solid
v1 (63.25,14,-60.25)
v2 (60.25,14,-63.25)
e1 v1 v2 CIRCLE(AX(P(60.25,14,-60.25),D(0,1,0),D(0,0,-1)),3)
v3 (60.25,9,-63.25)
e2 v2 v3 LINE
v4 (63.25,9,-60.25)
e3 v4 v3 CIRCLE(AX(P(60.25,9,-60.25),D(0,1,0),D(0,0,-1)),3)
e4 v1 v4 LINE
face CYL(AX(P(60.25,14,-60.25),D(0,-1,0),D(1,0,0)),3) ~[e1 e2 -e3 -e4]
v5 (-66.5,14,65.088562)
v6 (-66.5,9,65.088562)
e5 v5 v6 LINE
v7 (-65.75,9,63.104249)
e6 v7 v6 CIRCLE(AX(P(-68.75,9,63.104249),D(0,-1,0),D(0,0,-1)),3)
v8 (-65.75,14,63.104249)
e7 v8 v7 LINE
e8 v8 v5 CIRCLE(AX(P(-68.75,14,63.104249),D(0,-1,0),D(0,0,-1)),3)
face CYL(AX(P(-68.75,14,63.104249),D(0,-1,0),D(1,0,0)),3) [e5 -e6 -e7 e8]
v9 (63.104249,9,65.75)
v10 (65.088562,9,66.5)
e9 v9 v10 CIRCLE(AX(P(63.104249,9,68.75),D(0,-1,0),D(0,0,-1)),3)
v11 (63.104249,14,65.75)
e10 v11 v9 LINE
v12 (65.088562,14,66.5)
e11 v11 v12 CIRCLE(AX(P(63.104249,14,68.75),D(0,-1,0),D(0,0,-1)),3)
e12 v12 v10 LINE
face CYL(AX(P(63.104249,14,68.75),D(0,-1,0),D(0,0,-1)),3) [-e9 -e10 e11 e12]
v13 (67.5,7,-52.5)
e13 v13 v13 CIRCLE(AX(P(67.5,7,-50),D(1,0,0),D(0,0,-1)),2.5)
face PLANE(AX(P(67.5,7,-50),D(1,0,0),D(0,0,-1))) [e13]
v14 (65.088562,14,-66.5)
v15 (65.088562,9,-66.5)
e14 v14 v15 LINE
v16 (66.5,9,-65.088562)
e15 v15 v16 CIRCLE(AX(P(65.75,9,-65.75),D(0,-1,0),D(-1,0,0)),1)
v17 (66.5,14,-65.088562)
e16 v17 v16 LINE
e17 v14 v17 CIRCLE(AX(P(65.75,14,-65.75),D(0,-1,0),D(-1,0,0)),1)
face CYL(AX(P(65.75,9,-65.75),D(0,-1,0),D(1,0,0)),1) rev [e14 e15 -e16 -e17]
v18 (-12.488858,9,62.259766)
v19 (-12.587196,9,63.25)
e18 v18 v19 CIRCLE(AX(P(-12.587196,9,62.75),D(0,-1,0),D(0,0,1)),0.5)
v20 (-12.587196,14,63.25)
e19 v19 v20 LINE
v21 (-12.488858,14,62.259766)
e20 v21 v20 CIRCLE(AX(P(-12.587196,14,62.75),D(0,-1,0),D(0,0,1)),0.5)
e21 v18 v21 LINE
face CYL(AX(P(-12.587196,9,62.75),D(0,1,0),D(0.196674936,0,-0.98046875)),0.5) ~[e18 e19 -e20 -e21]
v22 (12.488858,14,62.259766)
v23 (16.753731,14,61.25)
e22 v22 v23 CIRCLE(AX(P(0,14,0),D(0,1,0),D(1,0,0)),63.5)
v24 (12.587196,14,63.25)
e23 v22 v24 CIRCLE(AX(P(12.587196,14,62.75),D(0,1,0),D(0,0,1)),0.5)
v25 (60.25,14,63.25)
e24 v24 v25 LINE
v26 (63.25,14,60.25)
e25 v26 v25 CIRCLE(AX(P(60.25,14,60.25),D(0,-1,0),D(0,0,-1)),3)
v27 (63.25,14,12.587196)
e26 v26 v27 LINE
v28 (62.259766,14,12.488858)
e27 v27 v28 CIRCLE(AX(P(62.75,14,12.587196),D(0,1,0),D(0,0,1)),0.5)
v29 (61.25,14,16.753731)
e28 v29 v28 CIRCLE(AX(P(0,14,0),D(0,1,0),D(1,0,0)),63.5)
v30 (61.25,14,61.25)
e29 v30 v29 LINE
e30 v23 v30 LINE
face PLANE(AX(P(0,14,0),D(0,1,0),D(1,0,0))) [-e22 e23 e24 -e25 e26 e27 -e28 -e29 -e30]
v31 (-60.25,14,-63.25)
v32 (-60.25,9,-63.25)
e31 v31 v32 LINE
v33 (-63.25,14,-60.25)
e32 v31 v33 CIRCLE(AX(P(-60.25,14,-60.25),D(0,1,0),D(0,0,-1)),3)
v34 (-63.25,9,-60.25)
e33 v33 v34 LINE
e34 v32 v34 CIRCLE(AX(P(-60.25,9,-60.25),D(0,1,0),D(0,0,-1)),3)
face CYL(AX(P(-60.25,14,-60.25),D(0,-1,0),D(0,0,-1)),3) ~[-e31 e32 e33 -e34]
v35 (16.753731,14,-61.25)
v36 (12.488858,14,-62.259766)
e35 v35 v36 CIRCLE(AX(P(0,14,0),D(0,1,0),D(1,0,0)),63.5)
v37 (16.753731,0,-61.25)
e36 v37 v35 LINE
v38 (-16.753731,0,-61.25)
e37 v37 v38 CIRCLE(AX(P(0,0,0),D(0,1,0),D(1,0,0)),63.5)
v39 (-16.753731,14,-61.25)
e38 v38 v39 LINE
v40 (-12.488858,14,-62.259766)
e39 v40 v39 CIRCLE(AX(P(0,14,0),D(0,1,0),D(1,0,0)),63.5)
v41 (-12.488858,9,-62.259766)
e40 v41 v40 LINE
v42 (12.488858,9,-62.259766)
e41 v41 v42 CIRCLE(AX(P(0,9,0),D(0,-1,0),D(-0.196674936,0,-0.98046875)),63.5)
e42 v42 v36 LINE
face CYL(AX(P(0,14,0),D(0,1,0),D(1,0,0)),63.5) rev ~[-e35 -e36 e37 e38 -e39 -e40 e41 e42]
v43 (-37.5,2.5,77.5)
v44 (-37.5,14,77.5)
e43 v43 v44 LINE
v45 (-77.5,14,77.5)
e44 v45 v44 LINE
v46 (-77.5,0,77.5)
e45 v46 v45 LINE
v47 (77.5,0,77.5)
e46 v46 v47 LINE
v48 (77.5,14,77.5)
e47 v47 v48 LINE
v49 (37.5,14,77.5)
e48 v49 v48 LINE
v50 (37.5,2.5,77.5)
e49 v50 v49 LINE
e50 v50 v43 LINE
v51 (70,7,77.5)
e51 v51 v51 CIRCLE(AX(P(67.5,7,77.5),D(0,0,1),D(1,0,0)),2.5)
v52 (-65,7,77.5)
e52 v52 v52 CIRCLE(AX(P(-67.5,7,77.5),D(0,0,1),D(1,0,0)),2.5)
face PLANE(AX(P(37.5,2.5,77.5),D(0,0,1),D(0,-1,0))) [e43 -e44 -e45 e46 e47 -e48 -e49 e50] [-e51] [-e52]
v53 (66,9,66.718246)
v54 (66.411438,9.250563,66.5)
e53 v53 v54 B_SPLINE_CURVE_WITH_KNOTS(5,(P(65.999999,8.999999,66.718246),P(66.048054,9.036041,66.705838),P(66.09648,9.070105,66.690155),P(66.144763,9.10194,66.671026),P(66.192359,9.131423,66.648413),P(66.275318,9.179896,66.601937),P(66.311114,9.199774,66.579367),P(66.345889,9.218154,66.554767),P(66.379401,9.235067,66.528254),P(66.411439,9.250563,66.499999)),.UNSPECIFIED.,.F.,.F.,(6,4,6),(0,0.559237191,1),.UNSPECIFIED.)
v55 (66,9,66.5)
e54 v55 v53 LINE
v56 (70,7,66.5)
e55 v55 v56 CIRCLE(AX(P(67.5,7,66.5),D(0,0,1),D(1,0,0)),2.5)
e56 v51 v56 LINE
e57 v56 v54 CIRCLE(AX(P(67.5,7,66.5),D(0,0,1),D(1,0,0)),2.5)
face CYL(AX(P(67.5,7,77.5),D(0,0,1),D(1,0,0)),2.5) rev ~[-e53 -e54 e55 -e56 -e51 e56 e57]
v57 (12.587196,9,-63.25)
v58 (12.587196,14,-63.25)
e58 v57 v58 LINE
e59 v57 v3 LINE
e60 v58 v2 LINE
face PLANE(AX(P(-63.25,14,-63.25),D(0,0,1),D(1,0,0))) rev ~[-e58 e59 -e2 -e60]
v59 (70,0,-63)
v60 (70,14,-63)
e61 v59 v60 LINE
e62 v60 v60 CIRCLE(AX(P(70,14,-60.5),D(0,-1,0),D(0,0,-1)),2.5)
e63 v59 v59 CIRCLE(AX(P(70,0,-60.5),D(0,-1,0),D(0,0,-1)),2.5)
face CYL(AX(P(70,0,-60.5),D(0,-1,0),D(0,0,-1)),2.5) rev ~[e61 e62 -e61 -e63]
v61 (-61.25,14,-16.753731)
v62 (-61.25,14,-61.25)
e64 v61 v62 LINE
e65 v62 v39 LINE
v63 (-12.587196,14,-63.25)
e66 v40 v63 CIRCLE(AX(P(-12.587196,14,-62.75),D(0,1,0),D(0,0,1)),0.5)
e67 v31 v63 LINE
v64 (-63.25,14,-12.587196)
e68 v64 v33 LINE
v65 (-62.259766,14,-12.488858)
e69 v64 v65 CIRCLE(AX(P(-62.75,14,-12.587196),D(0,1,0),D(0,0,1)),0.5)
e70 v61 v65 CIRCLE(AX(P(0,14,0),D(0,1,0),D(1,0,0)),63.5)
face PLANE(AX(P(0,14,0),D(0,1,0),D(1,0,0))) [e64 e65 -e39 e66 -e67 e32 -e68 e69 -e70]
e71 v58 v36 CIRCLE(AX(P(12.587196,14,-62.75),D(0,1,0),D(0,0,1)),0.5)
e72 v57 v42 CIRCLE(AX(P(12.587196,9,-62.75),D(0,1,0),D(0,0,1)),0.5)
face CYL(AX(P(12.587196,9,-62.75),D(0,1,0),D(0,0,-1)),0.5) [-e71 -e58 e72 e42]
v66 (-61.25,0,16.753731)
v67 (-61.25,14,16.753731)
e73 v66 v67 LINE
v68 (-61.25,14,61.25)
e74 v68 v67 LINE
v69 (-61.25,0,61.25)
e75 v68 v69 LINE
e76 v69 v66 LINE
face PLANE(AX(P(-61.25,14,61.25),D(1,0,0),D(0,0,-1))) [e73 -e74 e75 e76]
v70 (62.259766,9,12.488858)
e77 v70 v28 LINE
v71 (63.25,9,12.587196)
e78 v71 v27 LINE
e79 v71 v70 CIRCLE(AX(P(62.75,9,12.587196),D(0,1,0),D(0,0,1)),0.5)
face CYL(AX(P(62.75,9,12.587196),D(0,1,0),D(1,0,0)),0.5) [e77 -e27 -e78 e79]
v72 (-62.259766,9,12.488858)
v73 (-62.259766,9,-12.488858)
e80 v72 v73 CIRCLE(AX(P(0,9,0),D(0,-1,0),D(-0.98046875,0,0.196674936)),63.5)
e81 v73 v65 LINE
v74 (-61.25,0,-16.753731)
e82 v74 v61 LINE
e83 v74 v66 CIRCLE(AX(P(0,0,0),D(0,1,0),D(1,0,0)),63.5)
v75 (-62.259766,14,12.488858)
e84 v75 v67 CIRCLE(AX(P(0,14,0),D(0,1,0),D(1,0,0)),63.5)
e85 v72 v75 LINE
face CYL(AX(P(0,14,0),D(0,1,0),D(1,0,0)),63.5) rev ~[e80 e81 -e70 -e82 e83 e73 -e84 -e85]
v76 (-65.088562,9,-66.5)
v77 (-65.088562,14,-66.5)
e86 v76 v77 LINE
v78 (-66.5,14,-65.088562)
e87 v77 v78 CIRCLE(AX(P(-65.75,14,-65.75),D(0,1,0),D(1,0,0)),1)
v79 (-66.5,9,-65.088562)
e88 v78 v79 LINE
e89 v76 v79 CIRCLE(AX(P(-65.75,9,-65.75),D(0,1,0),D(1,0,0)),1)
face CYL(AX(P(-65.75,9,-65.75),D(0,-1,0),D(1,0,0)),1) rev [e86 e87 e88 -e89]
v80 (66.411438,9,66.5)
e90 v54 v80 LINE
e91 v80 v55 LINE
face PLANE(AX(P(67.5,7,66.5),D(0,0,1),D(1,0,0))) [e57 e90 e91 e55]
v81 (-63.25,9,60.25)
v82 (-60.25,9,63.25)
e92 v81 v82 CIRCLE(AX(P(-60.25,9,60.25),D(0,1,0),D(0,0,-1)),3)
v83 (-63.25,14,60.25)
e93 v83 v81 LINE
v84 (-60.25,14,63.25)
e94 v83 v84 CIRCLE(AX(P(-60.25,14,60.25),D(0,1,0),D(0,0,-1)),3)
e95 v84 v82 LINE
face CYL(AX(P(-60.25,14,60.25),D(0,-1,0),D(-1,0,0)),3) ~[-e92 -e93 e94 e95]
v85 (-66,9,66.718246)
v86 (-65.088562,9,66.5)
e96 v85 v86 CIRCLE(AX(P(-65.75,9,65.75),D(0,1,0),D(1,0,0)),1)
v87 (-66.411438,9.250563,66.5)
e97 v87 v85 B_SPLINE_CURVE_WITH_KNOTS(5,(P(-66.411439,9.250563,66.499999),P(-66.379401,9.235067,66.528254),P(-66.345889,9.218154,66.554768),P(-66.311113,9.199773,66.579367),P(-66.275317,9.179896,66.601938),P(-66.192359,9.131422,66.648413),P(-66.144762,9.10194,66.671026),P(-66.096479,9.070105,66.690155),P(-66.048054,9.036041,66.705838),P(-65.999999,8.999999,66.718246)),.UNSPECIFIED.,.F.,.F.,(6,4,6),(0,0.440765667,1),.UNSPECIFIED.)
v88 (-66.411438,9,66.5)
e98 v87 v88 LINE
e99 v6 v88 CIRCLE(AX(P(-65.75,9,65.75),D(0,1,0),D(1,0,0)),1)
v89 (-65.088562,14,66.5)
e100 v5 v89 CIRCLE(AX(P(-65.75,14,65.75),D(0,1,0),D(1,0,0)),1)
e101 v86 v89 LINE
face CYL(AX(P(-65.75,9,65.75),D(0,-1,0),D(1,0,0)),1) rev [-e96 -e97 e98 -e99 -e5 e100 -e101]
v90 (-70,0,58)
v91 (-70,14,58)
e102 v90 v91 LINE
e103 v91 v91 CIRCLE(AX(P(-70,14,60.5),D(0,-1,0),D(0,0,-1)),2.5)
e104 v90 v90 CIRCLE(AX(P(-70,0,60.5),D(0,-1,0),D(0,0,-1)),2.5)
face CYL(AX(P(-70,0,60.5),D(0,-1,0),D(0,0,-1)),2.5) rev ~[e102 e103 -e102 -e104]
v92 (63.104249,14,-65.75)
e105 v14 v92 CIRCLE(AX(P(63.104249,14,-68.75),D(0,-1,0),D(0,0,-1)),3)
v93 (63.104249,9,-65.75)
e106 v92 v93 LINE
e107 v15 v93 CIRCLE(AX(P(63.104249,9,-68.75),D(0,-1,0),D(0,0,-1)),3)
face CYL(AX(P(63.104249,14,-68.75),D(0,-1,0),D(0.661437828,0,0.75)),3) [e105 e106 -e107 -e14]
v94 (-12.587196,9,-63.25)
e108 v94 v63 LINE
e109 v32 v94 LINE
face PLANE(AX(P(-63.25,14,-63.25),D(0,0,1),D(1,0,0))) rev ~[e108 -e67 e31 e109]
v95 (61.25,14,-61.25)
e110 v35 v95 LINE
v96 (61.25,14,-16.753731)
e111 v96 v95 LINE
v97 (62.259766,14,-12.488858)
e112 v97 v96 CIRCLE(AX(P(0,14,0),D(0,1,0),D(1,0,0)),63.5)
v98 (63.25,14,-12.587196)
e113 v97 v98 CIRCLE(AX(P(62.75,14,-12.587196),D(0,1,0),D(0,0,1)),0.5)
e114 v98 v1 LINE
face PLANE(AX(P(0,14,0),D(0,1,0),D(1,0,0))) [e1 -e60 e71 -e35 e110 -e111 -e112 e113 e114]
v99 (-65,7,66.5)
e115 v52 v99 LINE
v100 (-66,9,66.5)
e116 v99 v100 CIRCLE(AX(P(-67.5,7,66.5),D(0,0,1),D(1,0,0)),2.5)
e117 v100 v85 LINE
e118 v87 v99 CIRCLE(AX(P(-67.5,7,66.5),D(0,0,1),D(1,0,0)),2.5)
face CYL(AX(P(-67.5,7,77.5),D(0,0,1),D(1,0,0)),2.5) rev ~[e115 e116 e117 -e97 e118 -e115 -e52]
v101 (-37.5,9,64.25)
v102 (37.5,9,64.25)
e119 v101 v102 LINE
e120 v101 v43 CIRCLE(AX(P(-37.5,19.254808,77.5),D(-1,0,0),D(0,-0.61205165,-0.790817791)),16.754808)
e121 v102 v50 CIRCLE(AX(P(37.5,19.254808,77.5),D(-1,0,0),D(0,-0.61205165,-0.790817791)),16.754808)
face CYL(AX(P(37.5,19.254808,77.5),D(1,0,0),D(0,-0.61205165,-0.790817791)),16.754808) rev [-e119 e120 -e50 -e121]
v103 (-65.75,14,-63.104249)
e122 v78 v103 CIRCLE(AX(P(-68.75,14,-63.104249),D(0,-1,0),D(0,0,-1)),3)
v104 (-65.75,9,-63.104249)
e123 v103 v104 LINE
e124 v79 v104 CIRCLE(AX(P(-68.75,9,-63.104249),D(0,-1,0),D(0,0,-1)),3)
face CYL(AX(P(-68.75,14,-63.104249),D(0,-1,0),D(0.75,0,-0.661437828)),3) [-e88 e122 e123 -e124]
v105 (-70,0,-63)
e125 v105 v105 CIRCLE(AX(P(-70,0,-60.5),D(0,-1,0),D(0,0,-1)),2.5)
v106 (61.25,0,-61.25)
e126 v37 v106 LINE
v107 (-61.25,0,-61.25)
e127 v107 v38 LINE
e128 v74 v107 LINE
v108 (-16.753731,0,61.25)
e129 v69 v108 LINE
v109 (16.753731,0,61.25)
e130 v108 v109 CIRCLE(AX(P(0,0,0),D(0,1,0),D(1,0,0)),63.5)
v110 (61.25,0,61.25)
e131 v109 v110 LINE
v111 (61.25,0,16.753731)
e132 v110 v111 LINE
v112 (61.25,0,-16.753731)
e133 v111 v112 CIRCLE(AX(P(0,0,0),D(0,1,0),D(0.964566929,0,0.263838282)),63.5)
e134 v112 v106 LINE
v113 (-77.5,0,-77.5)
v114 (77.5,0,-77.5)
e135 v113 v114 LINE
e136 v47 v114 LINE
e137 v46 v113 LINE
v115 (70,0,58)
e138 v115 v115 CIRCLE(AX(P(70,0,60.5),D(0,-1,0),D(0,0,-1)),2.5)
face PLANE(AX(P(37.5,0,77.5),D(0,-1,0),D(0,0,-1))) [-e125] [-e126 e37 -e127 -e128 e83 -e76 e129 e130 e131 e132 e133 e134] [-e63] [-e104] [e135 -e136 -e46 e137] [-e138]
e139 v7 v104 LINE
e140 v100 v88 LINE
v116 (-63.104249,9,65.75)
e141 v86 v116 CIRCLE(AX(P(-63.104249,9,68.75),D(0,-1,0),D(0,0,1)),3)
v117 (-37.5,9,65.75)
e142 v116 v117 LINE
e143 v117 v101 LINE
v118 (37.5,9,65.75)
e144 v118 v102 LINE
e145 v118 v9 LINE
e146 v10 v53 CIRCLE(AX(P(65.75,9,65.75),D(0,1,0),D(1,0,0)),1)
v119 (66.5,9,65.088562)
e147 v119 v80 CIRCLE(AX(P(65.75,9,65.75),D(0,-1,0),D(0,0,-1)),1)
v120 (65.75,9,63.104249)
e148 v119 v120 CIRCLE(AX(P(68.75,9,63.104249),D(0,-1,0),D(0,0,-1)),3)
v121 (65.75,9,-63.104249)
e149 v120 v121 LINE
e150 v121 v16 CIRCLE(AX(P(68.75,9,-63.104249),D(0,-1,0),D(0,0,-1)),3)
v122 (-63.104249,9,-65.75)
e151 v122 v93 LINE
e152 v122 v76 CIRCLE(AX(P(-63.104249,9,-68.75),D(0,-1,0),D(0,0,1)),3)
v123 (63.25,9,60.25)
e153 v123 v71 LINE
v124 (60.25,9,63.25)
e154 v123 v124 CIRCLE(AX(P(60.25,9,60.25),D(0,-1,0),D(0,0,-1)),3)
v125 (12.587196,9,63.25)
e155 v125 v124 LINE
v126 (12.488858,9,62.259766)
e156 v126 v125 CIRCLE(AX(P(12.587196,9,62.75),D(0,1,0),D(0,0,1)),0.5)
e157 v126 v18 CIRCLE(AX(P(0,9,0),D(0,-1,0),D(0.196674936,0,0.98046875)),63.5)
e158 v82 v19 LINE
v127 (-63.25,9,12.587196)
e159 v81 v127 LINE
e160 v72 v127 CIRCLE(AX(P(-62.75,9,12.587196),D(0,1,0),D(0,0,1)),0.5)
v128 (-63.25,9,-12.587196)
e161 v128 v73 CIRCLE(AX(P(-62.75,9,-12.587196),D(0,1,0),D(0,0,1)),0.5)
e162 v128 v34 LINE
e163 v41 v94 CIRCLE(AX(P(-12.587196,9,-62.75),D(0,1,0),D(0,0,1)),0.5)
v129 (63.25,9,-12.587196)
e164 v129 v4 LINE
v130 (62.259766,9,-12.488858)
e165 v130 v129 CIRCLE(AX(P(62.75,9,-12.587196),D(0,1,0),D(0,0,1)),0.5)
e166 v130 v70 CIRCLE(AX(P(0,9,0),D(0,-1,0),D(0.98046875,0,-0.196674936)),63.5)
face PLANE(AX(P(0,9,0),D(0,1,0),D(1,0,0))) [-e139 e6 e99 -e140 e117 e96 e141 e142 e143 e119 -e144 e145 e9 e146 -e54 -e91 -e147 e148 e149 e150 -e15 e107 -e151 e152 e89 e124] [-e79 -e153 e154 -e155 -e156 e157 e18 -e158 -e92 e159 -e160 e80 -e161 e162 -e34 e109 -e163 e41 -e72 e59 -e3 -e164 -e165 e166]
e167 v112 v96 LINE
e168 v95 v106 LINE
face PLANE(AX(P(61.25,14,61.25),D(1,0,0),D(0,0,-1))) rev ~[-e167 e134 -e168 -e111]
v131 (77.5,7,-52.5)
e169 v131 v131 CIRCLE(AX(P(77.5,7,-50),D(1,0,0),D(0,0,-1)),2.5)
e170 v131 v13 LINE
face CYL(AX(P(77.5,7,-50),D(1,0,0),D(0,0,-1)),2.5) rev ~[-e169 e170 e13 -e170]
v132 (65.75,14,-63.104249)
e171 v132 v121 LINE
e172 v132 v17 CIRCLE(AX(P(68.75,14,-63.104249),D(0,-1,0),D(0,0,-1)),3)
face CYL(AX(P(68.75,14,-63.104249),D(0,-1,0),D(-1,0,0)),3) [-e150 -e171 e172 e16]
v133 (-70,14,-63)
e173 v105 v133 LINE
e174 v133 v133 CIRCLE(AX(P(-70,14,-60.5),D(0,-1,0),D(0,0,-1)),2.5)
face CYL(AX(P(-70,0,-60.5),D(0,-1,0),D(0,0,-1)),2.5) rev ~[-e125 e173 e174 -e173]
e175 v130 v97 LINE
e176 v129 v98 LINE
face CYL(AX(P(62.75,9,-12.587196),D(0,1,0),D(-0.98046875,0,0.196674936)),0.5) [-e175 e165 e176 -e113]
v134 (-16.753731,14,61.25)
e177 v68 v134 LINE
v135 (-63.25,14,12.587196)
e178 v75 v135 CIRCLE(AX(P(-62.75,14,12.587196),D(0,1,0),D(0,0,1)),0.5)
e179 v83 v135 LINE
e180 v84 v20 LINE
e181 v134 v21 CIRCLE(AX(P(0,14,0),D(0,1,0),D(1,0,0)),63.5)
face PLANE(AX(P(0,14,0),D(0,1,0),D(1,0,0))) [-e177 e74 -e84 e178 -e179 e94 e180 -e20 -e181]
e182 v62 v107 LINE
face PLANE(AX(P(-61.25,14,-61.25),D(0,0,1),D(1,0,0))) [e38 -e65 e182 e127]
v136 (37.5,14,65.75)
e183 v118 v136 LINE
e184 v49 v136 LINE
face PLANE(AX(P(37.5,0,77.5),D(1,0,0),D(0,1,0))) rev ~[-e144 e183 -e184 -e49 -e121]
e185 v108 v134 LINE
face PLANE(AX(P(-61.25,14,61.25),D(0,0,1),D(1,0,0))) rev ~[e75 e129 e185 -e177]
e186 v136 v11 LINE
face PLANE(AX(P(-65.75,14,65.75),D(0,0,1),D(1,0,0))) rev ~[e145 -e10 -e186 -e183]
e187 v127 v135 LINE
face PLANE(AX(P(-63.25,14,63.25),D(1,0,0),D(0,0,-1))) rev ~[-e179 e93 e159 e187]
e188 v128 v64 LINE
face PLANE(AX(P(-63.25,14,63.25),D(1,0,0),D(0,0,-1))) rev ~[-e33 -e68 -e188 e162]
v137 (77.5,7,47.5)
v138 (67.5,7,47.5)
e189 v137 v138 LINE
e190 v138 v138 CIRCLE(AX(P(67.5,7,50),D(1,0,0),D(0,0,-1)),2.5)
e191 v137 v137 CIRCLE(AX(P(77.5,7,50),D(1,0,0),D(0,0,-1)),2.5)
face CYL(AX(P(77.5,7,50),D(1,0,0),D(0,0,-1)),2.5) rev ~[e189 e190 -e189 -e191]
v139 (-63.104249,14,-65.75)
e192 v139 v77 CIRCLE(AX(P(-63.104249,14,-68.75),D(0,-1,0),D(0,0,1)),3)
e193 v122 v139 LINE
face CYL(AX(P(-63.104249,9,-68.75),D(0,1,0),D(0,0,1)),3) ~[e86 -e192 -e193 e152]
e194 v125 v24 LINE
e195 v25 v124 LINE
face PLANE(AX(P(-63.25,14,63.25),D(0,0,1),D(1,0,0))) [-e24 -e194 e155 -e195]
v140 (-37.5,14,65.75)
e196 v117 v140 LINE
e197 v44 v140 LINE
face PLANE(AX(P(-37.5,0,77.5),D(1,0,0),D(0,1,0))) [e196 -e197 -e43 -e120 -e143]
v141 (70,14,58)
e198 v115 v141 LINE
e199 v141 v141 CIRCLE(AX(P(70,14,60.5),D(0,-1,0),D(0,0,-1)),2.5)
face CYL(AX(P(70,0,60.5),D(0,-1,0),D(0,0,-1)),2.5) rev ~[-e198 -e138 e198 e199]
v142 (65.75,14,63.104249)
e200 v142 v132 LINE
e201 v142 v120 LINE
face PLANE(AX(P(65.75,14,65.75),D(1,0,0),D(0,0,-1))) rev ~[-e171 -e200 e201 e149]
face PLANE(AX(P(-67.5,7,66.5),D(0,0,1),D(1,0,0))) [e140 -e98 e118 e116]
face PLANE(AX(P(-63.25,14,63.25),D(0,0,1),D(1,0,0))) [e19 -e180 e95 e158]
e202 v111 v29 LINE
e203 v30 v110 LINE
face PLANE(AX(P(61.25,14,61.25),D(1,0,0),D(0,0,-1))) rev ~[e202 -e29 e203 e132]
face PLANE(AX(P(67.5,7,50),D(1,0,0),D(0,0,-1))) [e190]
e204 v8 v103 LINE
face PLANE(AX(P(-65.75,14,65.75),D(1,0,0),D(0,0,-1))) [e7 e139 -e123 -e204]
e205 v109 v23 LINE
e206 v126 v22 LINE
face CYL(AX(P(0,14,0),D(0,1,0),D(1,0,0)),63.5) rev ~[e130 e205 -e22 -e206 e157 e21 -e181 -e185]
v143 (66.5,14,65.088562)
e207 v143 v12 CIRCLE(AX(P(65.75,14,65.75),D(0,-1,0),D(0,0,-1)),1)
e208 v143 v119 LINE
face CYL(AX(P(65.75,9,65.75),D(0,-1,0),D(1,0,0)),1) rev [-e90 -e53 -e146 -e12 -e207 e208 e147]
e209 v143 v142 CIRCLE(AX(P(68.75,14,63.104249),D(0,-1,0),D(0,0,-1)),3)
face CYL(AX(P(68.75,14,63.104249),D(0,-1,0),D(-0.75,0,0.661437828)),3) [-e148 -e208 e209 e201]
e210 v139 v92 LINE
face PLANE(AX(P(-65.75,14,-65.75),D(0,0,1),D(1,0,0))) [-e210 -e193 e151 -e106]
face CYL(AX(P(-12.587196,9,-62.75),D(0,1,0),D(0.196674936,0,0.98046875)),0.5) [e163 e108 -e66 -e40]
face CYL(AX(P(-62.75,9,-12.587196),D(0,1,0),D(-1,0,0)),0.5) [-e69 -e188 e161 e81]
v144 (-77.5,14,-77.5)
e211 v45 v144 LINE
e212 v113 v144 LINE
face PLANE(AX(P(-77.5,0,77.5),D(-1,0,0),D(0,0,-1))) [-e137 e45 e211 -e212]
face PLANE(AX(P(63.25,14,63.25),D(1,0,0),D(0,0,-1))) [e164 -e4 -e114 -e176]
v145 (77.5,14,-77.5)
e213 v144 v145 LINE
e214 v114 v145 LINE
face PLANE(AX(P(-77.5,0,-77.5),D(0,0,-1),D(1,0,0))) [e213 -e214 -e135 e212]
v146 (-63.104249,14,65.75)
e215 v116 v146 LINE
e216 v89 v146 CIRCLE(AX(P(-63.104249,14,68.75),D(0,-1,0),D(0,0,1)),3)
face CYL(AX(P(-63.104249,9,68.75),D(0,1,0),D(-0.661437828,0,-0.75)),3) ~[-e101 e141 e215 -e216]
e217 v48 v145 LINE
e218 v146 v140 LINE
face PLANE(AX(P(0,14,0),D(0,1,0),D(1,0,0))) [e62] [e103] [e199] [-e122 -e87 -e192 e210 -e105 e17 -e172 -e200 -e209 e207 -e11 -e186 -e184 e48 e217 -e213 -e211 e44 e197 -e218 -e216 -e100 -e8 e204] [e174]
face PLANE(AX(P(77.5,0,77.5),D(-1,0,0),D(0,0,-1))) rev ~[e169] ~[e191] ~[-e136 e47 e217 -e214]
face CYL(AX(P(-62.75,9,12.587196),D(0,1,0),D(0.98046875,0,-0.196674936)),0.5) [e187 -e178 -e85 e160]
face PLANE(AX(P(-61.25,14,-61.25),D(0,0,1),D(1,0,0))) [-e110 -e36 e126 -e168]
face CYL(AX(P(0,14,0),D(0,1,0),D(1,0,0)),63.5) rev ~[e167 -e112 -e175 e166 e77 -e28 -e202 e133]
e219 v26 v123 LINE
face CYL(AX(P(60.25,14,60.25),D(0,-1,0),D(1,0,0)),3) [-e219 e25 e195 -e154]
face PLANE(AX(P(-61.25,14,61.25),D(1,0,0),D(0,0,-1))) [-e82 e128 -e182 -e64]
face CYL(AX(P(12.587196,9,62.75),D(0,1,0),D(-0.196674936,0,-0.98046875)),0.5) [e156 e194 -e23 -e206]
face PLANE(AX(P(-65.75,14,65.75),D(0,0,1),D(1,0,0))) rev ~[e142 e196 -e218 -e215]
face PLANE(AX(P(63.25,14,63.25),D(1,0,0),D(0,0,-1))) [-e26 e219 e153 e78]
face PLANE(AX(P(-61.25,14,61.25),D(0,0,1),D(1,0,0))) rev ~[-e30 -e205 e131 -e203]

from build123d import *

# Parameters (mm, degrees)
SKETCH1_W           = 155
SKETCH1_H           = 155
BOSS_EXTRUDE1_DEPTH = 14
SKETCH2_W           = 131.5
SKETCH2_H           = 131.5
SKETCH2_W_2         = 126.5
SKETCH2_H_2         = 126.5
CUT_EXTRUDE1_DEPTH  = 5
SKETCH3_W           = 122.5
SKETCH3_H           = 122.5
CUT_EXTRUDE2_DEPTH  = 111.492081164
SKETCH6_R           = 2.5
CUT_EXTRUDE5_DEPTH  = 11
SKETCH7_R           = 2.5
CUT_EXTRUDE6_DEPTH  = 111.492081164
SKETCH8_W           = 75
SKETCH8_H           = 14
CUT_EXTRUDE7_DEPTH  = 13.25
CUT_EXTRUDE8_START  = -5
SKETCH9_R           = 1
CUT_EXTRUDE8_DEPTH  = 5
FILLET1_R           = 3
SKETCH10_R          = 2.5
CUT_EXTRUDE9_DEPTH  = 10
BOSS_EXTRUDE2_DEPTH = 75
SKETCH11_R          = 63.5
CUT_EXTRUDE10_DEPTH = 111.492081234
FILLET2_R           = 0.5


with BuildPart() as part:
    # Sketch1 → Boss-Extrude1 (new body)
    with BuildSketch(Plane(origin=(0, 0, 0), x_dir=(1, 0, 0), z_dir=(0, 1, 0))):
        Rectangle(SKETCH1_W, SKETCH1_H)
    extrude(amount=BOSS_EXTRUDE1_DEPTH)

    # Sketch2 → Cut-Extrude1 (cut)
    with BuildSketch(Plane(origin=(0, 14, 0), x_dir=(1, 0, 0), z_dir=(0, 1, 0))):
        Rectangle(SKETCH2_W, SKETCH2_H)
        Rectangle(SKETCH2_W_2, SKETCH2_H_2, mode=Mode.SUBTRACT)
    extrude(amount=-CUT_EXTRUDE1_DEPTH, mode=Mode.SUBTRACT)

    # Sketch3 → Cut-Extrude2 (cut, through all)
    with BuildSketch(Plane(origin=(0, 14, 0), x_dir=(1, 0, 0), z_dir=(0, 1, 0))):
        Rectangle(SKETCH3_W, SKETCH3_H)
    extrude(amount=-CUT_EXTRUDE2_DEPTH, mode=Mode.SUBTRACT)

    # Sketch6 → Cut-Extrude5 (cut)
    with BuildSketch(Plane.XY.offset(77.5)):
        with Locations((67.5, 7)):
            Circle(SKETCH6_R)
        with Locations((-67.5, 7)):
            Circle(SKETCH6_R)
    extrude(amount=-CUT_EXTRUDE5_DEPTH, mode=Mode.SUBTRACT)

    # Sketch7 → Cut-Extrude6 (cut, through all)
    with BuildSketch(Plane.XZ):
        with Locations(Location((70, -60.5, 0), (0, 0, 270))):
            Circle(SKETCH7_R)
        with Locations(Location((70, 60.5, 0), (0, 0, 270))):
            Circle(SKETCH7_R)
        with Locations(Location((-70, 60.5, 0), (0, 0, 270))):
            Circle(SKETCH7_R)
        with Locations(Location((-70, -60.5, 0), (0, 0, 270))):
            Circle(SKETCH7_R)
    extrude(amount=-CUT_EXTRUDE6_DEPTH, mode=Mode.SUBTRACT)

    # Sketch8 → Cut-Extrude7 (cut)
    with BuildSketch(Plane.XY.offset(77.5)):
        with Locations((0, 7)):
            Rectangle(SKETCH8_W, SKETCH8_H)
    extrude(amount=-CUT_EXTRUDE7_DEPTH, mode=Mode.SUBTRACT)

    # Sketch9 → Cut-Extrude8 (cut)
    with BuildSketch(Plane(origin=(0, 14, 0), x_dir=(1, 0, 0), z_dir=(0, 1, 0)).offset(CUT_EXTRUDE8_START)):
        with Locations((-65.75, 65.75)):
            Circle(SKETCH9_R)
        with Locations((65.75, 65.75)):
            Circle(SKETCH9_R)
        with Locations((65.75, -65.75)):
            Circle(SKETCH9_R)
        with Locations((-65.75, -65.75)):
            Circle(SKETCH9_R)
    extrude(amount=CUT_EXTRUDE8_DEPTH, mode=Mode.SUBTRACT)

    # Fillet1
    fillet1_edges = [part.edges().sort_by_distance(p)[0] for p in [
        (-64.75, 11.5, 65.75),
        (-65.75, 11.5, 64.75),
        (64.75, 11.5, 65.75),
        (65.75, 11.5, 64.75),
        (64.75, 11.5, -65.75),
        (65.75, 11.5, -64.75),
        (-65.75, 11.5, -64.75),
        (-64.75, 11.5, -65.75),
        (-63.25, 11.5, -63.25),
        (63.25, 11.5, -63.25),
        (63.25, 11.5, 63.25),
        (-63.25, 11.5, 63.25),
    ]]
    fillet(fillet1_edges, radius=FILLET1_R)

    # Sketch10 → Cut-Extrude9 (cut)
    with BuildSketch(Plane(origin=(77.5, 0, 0), x_dir=(0, 0, -1), z_dir=(1, 0, 0))):
        with Locations((50, 7)):
            Circle(SKETCH10_R)
        with Locations((-50, 7)):
            Circle(SKETCH10_R)
    extrude(amount=-CUT_EXTRUDE9_DEPTH, mode=Mode.SUBTRACT)

    # Sketch12 → Boss-Extrude2 (add)
    with BuildSketch(Plane.ZY.offset(-37.5)):
        with BuildLine():
            Line((77.5, 2.5), (77.5, 0))
            Line((77.5, 0), (64.25, 0))
            Line((64.25, 0), (64.25, 9))
            ThreePointArc((64.25, 9), (70.120763928, 4.212518777), (77.5, 2.5))
        make_face()
    extrude(amount=BOSS_EXTRUDE2_DEPTH)

    # Sketch11 → Cut-Extrude10 (cut, through all)
    with BuildSketch(Plane(origin=(0, 14, 0), x_dir=(1, 0, 0), z_dir=(0, 1, 0))):
        Circle(SKETCH11_R)
    extrude(amount=-CUT_EXTRUDE10_DEPTH, mode=Mode.SUBTRACT)

    # Fillet2
    fillet2_edges = [part.edges().sort_by_distance(p)[0] for p in [
        (-63.25, 11.5, 5.629165125),
        (-63.25, 11.5, -5.629165125),
        (-5.629165125, 11.5, -63.25),
        (5.629165125, 11.5, -63.25),
        (63.25, 11.5, -5.629165125),
        (63.25, 11.5, 5.629165125),
        (5.629165125, 11.5, 63.25),
        (-5.629165125, 11.5, 63.25),
    ]]
    fillet(fillet2_edges, radius=FILLET2_R)


solid = part.part
